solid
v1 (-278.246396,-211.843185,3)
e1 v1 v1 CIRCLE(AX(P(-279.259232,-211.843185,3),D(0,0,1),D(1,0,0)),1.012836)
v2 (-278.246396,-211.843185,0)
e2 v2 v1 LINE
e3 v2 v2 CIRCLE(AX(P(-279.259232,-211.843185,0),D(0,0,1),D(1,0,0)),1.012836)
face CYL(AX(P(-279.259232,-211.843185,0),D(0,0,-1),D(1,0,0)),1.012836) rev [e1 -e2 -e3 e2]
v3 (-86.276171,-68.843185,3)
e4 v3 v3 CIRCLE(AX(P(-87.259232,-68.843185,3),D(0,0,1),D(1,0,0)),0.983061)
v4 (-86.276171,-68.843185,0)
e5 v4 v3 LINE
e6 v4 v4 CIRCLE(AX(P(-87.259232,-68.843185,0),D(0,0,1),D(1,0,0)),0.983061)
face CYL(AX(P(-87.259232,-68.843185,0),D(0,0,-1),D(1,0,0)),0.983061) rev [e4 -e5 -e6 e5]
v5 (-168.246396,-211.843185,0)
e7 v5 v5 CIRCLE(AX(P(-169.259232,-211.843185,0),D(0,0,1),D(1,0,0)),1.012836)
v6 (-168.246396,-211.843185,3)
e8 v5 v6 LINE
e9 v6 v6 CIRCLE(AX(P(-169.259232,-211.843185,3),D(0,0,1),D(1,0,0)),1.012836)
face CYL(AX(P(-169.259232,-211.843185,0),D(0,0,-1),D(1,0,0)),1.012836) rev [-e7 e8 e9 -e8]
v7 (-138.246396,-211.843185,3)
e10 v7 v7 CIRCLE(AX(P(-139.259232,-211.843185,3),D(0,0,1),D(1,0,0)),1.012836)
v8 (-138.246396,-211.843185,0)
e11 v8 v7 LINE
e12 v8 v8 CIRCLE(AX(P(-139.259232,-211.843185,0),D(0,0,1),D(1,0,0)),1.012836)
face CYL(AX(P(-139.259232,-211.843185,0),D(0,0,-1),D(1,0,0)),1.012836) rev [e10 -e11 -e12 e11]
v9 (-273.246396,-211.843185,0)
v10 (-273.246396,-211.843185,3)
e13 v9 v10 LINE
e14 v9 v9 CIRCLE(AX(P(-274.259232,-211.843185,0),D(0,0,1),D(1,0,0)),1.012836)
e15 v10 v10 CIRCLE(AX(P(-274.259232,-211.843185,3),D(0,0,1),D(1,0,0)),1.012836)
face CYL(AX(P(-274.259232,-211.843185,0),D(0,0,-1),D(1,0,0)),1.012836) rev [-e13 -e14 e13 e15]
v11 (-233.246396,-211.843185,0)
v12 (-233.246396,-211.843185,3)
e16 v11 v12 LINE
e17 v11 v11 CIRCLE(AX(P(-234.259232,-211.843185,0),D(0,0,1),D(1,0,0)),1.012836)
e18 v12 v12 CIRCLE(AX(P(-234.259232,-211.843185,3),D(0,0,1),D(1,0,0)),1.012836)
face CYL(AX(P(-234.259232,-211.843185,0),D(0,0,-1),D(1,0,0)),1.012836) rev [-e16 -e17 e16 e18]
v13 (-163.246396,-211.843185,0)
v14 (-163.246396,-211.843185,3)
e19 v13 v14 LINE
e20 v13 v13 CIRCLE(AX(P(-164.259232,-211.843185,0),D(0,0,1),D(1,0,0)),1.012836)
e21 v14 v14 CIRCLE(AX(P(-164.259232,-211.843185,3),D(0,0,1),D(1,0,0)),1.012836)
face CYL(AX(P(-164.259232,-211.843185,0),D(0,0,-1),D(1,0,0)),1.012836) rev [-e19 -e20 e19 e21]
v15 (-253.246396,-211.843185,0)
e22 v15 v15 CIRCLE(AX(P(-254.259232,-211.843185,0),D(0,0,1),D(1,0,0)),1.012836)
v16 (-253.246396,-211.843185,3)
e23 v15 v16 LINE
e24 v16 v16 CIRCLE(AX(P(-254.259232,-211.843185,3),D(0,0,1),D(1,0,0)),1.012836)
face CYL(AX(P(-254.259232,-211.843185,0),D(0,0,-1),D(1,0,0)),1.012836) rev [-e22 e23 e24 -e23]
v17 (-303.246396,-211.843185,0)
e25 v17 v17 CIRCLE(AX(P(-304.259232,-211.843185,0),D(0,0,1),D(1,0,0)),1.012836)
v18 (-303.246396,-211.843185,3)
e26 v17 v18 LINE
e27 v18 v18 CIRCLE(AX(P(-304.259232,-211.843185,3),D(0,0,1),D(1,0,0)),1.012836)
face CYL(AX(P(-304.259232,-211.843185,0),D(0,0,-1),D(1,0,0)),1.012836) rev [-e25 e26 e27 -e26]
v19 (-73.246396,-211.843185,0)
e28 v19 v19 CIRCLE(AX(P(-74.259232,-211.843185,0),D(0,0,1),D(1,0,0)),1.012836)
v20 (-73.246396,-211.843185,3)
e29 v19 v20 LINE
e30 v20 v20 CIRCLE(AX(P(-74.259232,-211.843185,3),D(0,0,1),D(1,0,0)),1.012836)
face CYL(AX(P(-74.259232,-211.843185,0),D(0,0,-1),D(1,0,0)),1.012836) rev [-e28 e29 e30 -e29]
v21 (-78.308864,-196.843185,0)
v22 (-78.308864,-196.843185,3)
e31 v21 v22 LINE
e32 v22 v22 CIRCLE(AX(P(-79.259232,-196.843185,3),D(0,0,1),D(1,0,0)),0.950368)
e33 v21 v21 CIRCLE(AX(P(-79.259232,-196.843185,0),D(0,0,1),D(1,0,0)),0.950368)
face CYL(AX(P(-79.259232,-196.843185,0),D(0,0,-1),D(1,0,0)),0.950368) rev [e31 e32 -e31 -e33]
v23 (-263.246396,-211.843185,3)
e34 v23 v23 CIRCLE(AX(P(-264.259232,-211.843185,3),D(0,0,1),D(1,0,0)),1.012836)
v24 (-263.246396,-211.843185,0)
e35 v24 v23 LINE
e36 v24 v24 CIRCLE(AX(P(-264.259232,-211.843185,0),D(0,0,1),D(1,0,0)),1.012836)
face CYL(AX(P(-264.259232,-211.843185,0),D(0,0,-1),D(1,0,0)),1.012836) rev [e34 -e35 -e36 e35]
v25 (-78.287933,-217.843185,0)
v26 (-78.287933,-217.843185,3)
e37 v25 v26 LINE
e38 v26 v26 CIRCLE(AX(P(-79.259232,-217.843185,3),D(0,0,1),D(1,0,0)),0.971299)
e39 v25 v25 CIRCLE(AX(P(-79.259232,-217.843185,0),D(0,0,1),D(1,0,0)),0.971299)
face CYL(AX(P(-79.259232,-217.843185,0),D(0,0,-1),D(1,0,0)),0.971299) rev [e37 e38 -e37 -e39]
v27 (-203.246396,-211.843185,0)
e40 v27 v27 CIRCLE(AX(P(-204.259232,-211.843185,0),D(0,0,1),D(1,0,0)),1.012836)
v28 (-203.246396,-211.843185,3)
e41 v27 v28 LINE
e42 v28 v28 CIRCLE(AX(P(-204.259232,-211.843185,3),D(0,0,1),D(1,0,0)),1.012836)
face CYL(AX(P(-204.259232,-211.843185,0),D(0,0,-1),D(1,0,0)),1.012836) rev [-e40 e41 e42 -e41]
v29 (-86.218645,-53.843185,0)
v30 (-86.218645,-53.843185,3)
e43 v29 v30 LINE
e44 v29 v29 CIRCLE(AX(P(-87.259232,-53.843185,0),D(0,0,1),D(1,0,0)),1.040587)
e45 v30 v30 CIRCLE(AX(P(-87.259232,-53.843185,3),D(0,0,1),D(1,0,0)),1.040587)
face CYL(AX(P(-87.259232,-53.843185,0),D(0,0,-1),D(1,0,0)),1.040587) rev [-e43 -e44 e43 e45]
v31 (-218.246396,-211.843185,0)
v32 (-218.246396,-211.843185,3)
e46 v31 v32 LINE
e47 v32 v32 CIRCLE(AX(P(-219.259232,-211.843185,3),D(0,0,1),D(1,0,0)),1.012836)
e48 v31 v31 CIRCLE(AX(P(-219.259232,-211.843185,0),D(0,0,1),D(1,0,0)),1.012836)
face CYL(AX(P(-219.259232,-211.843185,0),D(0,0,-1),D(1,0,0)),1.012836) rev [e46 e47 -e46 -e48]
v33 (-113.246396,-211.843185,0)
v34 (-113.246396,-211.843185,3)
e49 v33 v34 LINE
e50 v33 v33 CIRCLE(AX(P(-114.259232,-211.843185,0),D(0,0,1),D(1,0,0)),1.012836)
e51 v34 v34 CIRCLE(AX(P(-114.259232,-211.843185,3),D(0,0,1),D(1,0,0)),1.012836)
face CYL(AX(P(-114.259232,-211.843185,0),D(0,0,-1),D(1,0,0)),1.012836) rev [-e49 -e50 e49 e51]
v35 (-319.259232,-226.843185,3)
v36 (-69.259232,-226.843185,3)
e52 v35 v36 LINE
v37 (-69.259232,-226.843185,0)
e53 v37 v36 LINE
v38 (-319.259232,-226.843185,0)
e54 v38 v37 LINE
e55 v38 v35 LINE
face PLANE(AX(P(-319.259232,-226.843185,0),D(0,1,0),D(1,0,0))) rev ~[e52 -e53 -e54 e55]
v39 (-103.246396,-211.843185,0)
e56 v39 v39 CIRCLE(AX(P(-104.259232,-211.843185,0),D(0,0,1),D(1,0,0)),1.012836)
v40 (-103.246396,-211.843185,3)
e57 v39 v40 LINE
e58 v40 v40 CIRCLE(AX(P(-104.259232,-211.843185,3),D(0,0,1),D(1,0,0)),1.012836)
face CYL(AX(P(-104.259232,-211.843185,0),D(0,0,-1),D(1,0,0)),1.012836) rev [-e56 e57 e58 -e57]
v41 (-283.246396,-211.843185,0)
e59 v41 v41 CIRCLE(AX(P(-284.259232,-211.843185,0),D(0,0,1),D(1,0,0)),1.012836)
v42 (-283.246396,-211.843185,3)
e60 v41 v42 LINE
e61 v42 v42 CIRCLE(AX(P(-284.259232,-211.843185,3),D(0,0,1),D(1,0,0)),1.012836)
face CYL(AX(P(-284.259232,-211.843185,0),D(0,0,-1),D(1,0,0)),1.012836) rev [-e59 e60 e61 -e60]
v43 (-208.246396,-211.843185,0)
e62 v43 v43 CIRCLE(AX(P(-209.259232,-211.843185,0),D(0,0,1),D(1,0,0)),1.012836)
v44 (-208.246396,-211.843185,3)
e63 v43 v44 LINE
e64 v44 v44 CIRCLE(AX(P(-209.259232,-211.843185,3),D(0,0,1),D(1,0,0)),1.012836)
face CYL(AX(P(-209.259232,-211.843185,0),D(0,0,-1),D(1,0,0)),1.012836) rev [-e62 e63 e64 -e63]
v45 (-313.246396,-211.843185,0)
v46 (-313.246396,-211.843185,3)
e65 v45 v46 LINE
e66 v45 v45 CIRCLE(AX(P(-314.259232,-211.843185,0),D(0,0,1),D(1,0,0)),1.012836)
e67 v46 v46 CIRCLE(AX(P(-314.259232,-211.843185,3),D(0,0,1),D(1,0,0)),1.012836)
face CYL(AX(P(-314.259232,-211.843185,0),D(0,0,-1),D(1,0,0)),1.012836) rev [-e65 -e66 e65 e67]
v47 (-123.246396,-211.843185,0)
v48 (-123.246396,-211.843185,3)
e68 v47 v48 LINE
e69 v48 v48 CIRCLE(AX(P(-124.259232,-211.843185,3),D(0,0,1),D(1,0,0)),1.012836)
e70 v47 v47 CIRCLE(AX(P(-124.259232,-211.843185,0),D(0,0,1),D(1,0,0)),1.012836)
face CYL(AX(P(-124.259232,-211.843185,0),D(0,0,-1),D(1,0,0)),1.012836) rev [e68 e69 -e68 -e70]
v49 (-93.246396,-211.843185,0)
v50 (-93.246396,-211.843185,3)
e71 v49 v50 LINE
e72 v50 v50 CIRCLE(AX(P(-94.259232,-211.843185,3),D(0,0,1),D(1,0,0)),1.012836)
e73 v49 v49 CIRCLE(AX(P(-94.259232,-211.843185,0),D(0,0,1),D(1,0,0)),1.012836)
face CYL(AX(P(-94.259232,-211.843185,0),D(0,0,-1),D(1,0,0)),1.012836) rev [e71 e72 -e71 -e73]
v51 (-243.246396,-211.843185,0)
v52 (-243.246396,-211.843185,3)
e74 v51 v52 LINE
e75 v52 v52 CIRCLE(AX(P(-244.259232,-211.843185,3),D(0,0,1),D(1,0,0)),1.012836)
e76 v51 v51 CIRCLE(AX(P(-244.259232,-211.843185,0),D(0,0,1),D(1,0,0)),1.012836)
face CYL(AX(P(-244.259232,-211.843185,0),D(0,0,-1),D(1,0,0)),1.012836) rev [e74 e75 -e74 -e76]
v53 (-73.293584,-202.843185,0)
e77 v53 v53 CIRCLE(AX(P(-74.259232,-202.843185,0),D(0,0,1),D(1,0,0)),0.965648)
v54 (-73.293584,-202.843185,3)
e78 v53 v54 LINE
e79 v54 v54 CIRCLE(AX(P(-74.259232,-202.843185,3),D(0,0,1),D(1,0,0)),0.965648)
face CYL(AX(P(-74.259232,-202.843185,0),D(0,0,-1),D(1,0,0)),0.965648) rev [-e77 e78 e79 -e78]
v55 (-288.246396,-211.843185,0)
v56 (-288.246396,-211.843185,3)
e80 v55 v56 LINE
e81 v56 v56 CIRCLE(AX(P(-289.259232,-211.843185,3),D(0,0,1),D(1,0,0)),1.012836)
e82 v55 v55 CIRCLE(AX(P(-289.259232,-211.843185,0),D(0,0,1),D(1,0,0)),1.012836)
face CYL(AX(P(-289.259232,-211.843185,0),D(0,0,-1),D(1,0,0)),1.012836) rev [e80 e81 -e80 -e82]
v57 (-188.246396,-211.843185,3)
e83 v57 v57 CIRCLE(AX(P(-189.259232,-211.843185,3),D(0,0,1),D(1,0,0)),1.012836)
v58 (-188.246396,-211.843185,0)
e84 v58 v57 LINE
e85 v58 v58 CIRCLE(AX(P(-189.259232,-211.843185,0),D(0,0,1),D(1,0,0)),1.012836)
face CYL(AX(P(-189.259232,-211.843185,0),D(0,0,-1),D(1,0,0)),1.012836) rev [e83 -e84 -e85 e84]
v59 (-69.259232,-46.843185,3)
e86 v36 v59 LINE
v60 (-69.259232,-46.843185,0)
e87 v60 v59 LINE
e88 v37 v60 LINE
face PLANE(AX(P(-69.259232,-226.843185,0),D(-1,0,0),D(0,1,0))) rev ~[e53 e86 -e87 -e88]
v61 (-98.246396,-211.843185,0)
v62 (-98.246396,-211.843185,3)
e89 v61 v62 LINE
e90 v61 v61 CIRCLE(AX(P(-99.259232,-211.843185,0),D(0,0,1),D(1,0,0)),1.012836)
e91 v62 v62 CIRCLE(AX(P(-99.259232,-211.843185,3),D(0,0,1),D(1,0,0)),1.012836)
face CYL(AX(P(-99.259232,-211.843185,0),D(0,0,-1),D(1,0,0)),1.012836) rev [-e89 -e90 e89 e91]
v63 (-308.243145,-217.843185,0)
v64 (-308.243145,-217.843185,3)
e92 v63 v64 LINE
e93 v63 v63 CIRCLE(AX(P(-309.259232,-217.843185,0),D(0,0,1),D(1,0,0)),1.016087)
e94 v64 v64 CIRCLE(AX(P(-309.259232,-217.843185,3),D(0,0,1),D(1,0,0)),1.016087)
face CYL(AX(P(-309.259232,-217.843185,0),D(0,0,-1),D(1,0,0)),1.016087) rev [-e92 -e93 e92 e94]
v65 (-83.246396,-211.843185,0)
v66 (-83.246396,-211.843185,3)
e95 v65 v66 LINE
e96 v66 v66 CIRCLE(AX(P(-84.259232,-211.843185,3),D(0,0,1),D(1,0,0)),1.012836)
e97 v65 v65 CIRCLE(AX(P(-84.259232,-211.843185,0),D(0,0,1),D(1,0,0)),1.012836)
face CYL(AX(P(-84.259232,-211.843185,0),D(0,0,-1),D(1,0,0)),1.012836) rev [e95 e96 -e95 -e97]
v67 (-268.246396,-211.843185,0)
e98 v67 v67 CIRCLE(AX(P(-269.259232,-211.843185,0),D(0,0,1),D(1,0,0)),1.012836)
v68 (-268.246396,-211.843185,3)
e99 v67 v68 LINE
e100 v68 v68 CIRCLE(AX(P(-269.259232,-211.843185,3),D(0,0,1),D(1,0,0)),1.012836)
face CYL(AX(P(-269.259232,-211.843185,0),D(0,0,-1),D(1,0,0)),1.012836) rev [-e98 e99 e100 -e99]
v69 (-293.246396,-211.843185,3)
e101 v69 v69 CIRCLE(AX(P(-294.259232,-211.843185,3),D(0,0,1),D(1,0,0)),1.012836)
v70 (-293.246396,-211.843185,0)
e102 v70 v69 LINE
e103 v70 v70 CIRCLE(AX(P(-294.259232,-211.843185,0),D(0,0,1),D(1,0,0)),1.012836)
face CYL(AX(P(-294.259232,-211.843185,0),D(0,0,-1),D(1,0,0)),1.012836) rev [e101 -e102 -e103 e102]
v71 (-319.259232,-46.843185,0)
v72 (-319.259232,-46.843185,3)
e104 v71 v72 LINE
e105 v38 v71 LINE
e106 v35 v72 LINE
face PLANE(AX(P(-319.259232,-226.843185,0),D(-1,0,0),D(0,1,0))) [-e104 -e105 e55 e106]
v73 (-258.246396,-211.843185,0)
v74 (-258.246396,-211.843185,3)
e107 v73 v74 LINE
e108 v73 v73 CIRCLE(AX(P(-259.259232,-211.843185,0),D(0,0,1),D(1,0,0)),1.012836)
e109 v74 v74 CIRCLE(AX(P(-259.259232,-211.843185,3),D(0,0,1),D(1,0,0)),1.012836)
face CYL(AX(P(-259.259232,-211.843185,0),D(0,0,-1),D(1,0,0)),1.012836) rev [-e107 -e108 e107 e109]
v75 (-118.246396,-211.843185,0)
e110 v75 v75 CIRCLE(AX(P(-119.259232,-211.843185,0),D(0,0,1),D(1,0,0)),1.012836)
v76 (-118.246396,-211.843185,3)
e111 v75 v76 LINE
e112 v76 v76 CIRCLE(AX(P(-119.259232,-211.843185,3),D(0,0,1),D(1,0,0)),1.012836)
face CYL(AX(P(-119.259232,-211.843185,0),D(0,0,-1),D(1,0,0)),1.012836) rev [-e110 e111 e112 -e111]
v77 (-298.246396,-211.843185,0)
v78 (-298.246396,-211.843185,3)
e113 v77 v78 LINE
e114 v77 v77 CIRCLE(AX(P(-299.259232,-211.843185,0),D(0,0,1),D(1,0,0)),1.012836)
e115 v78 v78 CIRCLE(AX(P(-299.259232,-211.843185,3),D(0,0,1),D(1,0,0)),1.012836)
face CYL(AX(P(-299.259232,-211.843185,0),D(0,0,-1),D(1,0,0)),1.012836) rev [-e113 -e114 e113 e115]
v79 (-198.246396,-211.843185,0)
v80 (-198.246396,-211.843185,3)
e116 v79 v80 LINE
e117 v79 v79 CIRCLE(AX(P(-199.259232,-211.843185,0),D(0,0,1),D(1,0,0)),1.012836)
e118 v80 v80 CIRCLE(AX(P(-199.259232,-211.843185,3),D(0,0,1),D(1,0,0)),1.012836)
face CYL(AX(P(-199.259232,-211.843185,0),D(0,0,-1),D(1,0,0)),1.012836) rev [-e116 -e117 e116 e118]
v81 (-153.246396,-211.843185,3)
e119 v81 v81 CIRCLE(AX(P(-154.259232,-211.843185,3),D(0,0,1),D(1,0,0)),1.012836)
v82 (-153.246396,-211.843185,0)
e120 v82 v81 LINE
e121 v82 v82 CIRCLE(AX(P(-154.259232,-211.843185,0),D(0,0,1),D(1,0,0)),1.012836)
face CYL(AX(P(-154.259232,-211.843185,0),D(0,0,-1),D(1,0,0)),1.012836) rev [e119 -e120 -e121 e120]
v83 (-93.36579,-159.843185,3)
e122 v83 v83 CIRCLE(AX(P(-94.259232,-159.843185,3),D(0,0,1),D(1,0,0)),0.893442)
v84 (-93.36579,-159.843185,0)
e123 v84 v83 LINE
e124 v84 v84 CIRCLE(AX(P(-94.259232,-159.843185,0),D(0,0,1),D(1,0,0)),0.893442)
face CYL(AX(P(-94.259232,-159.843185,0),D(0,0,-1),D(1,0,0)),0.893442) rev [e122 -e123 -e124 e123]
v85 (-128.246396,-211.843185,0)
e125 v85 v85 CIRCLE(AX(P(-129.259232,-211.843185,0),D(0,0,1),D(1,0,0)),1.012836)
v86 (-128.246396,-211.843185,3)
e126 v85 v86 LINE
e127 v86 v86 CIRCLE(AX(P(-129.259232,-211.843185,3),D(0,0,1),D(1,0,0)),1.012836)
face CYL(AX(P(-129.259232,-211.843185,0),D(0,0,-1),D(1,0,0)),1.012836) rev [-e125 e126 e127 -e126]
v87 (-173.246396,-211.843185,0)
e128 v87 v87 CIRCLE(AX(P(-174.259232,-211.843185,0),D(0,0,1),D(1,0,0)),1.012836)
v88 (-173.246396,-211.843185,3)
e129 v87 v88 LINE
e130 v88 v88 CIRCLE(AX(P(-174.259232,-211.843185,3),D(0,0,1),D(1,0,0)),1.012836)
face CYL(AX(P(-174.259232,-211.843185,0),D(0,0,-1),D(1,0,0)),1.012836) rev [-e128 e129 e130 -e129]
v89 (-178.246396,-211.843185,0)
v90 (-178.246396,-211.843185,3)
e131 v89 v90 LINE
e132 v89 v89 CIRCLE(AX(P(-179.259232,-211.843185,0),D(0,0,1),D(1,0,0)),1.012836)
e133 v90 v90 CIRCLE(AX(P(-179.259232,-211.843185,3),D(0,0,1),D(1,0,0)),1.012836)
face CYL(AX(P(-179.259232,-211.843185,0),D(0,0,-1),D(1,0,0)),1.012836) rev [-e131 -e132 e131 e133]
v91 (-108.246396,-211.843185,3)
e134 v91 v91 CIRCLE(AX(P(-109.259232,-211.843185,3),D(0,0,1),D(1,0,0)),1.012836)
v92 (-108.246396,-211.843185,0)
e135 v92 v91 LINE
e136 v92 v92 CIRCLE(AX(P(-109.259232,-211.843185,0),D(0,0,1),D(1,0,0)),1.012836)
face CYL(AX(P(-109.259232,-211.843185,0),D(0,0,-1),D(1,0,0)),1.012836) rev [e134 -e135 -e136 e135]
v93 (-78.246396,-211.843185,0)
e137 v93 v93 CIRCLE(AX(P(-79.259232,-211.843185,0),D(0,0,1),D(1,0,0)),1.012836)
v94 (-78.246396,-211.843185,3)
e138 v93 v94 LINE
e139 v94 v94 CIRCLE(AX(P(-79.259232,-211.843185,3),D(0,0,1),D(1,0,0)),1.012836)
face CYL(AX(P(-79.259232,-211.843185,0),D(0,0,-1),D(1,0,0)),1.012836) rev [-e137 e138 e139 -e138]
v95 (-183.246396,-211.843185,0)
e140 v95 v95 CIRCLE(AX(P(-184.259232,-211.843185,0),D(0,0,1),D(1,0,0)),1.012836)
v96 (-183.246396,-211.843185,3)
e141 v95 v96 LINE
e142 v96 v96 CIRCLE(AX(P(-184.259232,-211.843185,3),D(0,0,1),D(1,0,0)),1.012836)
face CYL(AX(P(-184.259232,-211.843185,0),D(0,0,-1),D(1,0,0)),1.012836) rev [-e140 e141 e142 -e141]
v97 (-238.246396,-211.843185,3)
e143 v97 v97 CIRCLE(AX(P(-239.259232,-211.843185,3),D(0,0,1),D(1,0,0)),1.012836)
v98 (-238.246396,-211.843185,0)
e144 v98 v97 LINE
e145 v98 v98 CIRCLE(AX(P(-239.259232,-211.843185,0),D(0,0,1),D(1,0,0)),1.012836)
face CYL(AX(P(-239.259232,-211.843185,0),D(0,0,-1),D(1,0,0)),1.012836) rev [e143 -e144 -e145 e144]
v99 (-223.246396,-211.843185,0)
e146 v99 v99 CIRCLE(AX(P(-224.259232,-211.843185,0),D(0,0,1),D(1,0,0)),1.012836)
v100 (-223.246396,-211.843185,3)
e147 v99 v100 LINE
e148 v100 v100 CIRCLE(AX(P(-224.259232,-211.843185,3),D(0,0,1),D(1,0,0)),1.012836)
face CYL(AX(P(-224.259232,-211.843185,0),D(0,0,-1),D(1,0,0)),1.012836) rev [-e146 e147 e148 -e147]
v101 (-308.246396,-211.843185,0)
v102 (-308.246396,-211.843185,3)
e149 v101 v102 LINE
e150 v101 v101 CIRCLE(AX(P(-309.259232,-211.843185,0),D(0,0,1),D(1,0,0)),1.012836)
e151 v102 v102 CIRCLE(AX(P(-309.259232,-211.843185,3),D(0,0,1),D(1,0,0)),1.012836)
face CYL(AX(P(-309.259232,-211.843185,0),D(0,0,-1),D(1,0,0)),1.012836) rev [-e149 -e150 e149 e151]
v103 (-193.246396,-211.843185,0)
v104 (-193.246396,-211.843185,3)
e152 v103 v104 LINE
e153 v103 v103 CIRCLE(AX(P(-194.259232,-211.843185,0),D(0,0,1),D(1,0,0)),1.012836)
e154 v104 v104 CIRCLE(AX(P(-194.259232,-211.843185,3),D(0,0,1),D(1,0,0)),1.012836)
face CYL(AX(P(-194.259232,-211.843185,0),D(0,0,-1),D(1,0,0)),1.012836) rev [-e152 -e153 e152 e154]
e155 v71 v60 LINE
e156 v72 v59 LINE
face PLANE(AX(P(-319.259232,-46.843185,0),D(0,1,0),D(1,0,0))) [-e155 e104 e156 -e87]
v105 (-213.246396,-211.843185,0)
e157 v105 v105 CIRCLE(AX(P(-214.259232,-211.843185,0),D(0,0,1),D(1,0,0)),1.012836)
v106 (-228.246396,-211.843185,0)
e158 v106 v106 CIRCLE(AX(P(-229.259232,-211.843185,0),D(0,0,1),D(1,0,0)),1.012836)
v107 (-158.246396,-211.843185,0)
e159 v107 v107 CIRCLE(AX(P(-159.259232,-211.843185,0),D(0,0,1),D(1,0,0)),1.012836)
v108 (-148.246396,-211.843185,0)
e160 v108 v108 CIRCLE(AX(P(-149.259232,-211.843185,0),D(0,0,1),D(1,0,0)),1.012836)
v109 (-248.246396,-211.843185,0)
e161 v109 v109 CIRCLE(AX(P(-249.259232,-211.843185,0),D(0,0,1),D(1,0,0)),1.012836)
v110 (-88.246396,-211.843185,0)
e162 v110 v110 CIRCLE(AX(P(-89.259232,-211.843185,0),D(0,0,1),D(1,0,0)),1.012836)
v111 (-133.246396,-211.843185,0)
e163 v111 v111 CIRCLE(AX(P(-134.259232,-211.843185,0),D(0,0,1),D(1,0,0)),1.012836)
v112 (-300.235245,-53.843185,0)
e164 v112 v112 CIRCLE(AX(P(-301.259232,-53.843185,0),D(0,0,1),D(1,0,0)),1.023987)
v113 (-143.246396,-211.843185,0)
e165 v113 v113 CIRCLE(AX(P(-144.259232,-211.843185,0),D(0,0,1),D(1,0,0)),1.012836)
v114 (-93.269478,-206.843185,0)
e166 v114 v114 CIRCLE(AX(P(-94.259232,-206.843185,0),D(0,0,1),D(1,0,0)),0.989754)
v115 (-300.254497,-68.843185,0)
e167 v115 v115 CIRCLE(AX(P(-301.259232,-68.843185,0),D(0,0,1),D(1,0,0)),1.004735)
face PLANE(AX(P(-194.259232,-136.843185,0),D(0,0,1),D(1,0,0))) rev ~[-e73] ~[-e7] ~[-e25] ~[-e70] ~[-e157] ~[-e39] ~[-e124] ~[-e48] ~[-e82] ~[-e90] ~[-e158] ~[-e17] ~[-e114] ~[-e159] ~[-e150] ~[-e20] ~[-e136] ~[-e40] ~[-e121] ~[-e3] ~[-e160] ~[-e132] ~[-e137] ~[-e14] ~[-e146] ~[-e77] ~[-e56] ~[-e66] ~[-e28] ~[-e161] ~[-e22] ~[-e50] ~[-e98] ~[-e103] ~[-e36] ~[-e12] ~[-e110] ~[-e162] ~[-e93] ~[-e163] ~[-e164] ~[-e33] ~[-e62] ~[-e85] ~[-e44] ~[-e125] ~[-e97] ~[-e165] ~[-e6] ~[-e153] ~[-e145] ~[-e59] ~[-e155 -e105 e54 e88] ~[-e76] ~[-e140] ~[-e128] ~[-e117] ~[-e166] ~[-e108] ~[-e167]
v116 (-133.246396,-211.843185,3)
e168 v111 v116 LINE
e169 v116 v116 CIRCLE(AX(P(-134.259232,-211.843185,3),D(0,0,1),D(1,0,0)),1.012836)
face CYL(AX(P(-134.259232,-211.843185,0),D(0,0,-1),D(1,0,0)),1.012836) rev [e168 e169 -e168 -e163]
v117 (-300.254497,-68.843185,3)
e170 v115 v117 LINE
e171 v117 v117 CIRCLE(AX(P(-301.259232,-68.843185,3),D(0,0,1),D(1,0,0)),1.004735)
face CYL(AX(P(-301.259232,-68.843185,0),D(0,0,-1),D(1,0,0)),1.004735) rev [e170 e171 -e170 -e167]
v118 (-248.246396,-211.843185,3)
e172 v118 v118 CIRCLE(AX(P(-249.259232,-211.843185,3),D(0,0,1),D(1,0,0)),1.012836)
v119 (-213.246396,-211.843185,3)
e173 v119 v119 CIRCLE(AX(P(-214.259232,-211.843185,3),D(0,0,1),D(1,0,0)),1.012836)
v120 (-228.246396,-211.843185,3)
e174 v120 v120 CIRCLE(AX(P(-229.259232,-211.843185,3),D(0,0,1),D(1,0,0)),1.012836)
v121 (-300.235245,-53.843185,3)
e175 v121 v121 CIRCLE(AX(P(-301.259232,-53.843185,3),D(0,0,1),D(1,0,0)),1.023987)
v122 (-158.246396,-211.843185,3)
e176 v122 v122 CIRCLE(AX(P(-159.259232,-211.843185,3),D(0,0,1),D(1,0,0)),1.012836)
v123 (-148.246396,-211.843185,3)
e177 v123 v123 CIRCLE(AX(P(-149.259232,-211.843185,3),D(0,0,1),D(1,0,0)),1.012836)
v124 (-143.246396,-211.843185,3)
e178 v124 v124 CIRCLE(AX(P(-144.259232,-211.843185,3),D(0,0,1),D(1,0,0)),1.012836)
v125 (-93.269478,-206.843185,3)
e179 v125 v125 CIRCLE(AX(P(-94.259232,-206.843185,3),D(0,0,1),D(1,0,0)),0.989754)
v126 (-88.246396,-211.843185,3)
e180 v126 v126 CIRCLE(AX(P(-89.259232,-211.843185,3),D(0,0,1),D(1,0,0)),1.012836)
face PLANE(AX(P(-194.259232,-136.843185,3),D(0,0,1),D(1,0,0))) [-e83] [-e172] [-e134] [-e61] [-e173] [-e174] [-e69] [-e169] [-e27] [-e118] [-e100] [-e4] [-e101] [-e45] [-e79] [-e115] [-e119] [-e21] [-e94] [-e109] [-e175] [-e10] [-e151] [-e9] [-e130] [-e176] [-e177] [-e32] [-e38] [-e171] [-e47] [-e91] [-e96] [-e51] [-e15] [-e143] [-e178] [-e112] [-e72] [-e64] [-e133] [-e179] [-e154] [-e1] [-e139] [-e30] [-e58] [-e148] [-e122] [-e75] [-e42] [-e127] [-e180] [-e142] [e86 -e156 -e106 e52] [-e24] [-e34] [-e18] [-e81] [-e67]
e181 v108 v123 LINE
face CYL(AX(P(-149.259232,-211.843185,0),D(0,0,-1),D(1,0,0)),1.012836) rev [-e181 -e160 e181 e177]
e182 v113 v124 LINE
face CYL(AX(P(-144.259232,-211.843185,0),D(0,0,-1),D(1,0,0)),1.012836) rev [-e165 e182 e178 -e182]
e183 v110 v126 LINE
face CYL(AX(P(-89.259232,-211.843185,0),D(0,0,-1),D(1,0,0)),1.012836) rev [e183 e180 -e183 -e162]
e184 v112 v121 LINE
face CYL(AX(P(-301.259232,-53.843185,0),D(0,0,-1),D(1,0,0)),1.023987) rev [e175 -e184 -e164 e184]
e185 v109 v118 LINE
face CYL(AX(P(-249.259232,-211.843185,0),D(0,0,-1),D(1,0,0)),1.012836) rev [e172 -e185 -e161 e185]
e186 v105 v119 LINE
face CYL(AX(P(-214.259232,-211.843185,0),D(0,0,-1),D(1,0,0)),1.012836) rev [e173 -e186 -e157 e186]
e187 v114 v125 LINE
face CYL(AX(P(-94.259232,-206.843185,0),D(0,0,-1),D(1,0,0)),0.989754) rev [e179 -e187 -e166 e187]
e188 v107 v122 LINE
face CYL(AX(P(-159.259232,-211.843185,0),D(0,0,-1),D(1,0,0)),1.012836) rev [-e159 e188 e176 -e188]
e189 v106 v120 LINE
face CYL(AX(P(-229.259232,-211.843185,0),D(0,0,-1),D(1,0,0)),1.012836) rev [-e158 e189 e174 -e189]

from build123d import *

# Parameters (mm, degrees)
SKETCH_W    = 250
SKETCH_H    = 180
SKETCH_R    = 1.023987
SKETCH_R_2  = 1.004735
SKETCH_R_3  = 1.040587
SKETCH_R_4  = 0.983061
SKETCH_R_5  = 0.893442
SKETCH_R_6  = 0.989754
SKETCH_R_7  = 0.971299
SKETCH_R_8  = 1.016087
SKETCH_R_9  = 1.012836
SKETCH_R_10 = 0.965648
SKETCH_R_11 = 0.950368
PAD_DEPTH   = 3


with BuildPart() as part:
    # Sketch → Pad (new body)
    with BuildSketch(Plane.XY):
        with Locations((-194.259232, -136.843185)):
            Rectangle(SKETCH_W, SKETCH_H)
        with Locations((-301.259232, -53.843185)):
            Circle(SKETCH_R, mode=Mode.SUBTRACT)
        with Locations((-301.259232, -68.843185)):
            Circle(SKETCH_R_2, mode=Mode.SUBTRACT)
        with Locations((-87.259232, -53.843185)):
            Circle(SKETCH_R_3, mode=Mode.SUBTRACT)
        with Locations((-87.259232, -68.843185)):
            Circle(SKETCH_R_4, mode=Mode.SUBTRACT)
        with Locations((-94.259232, -159.843185)):
            Circle(SKETCH_R_5, mode=Mode.SUBTRACT)
        with Locations((-94.259232, -206.843185)):
            Circle(SKETCH_R_6, mode=Mode.SUBTRACT)
        with Locations((-79.259232, -217.843185)):
            Circle(SKETCH_R_7, mode=Mode.SUBTRACT)
        with Locations((-309.259232, -217.843185)):
            Circle(SKETCH_R_8, mode=Mode.SUBTRACT)
        with Locations((-74.259232, -211.843185)):
            Circle(SKETCH_R_9, mode=Mode.SUBTRACT)
        with Locations((-79.259232, -211.843185)):
            Circle(SKETCH_R_9, mode=Mode.SUBTRACT)
        with Locations((-84.259232, -211.843185)):
            Circle(SKETCH_R_9, mode=Mode.SUBTRACT)
        with Locations((-89.259232, -211.843185)):
            Circle(SKETCH_R_9, mode=Mode.SUBTRACT)
        with Locations((-94.259232, -211.843185)):
            Circle(SKETCH_R_9, mode=Mode.SUBTRACT)
        with Locations((-99.259232, -211.843185)):
            Circle(SKETCH_R_9, mode=Mode.SUBTRACT)
        with Locations((-104.259232, -211.843185)):
            Circle(SKETCH_R_9, mode=Mode.SUBTRACT)
        with Locations((-109.259232, -211.843185)):
            Circle(SKETCH_R_9, mode=Mode.SUBTRACT)
        with Locations((-114.259232, -211.843185)):
            Circle(SKETCH_R_9, mode=Mode.SUBTRACT)
        with Locations((-119.259232, -211.843185)):
            Circle(SKETCH_R_9, mode=Mode.SUBTRACT)
        with Locations((-124.259232, -211.843185)):
            Circle(SKETCH_R_9, mode=Mode.SUBTRACT)
        with Locations((-129.259232, -211.843185)):
            Circle(SKETCH_R_9, mode=Mode.SUBTRACT)
        with Locations((-134.259232, -211.843185)):
            Circle(SKETCH_R_9, mode=Mode.SUBTRACT)
        with Locations((-139.259232, -211.843185)):
            Circle(SKETCH_R_9, mode=Mode.SUBTRACT)
        with Locations((-144.259232, -211.843185)):
            Circle(SKETCH_R_9, mode=Mode.SUBTRACT)
        with Locations((-149.259232, -211.843185)):
            Circle(SKETCH_R_9, mode=Mode.SUBTRACT)
        with Locations((-154.259232, -211.843185)):
            Circle(SKETCH_R_9, mode=Mode.SUBTRACT)
        with Locations((-159.259232, -211.843185)):
            Circle(SKETCH_R_9, mode=Mode.SUBTRACT)
        with Locations((-164.259232, -211.843185)):
            Circle(SKETCH_R_9, mode=Mode.SUBTRACT)
        with Locations((-169.259232, -211.843185)):
            Circle(SKETCH_R_9, mode=Mode.SUBTRACT)
        with Locations((-174.259232, -211.843185)):
            Circle(SKETCH_R_9, mode=Mode.SUBTRACT)
        with Locations((-179.259232, -211.843185)):
            Circle(SKETCH_R_9, mode=Mode.SUBTRACT)
        with Locations((-184.259232, -211.843185)):
            Circle(SKETCH_R_9, mode=Mode.SUBTRACT)
        with Locations((-189.259232, -211.843185)):
            Circle(SKETCH_R_9, mode=Mode.SUBTRACT)
        with Locations((-194.259232, -211.843185)):
            Circle(SKETCH_R_9, mode=Mode.SUBTRACT)
        with Locations((-199.259232, -211.843185)):
            Circle(SKETCH_R_9, mode=Mode.SUBTRACT)
        with Locations((-204.259232, -211.843185)):
            Circle(SKETCH_R_9, mode=Mode.SUBTRACT)
        with Locations((-209.259232, -211.843185)):
            Circle(SKETCH_R_9, mode=Mode.SUBTRACT)
        with Locations((-214.259232, -211.843185)):
            Circle(SKETCH_R_9, mode=Mode.SUBTRACT)
        with Locations((-219.259232, -211.843185)):
            Circle(SKETCH_R_9, mode=Mode.SUBTRACT)
        with Locations((-224.259232, -211.843185)):
            Circle(SKETCH_R_9, mode=Mode.SUBTRACT)
        with Locations((-229.259232, -211.843185)):
            Circle(SKETCH_R_9, mode=Mode.SUBTRACT)
        with Locations((-234.259232, -211.843185)):
            Circle(SKETCH_R_9, mode=Mode.SUBTRACT)
        with Locations((-239.259232, -211.843185)):
            Circle(SKETCH_R_9, mode=Mode.SUBTRACT)
        with Locations((-244.259232, -211.843185)):
            Circle(SKETCH_R_9, mode=Mode.SUBTRACT)
        with Locations((-249.259232, -211.843185)):
            Circle(SKETCH_R_9, mode=Mode.SUBTRACT)
        with Locations((-254.259232, -211.843185)):
            Circle(SKETCH_R_9, mode=Mode.SUBTRACT)
        with Locations((-259.259232, -211.843185)):
            Circle(SKETCH_R_9, mode=Mode.SUBTRACT)
        with Locations((-264.259232, -211.843185)):
            Circle(SKETCH_R_9, mode=Mode.SUBTRACT)
        with Locations((-269.259232, -211.843185)):
            Circle(SKETCH_R_9, mode=Mode.SUBTRACT)
        with Locations((-274.259232, -211.843185)):
            Circle(SKETCH_R_9, mode=Mode.SUBTRACT)
        with Locations((-279.259232, -211.843185)):
            Circle(SKETCH_R_9, mode=Mode.SUBTRACT)
        with Locations((-284.259232, -211.843185)):
            Circle(SKETCH_R_9, mode=Mode.SUBTRACT)
        with Locations((-289.259232, -211.843185)):
            Circle(SKETCH_R_9, mode=Mode.SUBTRACT)
        with Locations((-294.259232, -211.843185)):
            Circle(SKETCH_R_9, mode=Mode.SUBTRACT)
        with Locations((-299.259232, -211.843185)):
            Circle(SKETCH_R_9, mode=Mode.SUBTRACT)
        with Locations((-304.259232, -211.843185)):
            Circle(SKETCH_R_9, mode=Mode.SUBTRACT)
        with Locations((-309.259232, -211.843185)):
            Circle(SKETCH_R_9, mode=Mode.SUBTRACT)
        with Locations((-314.259232, -211.843185)):
            Circle(SKETCH_R_9, mode=Mode.SUBTRACT)
        with Locations((-74.259232, -202.843185)):
            Circle(SKETCH_R_10, mode=Mode.SUBTRACT)
        with Locations((-79.259232, -196.843185)):
            Circle(SKETCH_R_11, mode=Mode.SUBTRACT)
    extrude(amount=PAD_DEPTH)


solid = part.part
